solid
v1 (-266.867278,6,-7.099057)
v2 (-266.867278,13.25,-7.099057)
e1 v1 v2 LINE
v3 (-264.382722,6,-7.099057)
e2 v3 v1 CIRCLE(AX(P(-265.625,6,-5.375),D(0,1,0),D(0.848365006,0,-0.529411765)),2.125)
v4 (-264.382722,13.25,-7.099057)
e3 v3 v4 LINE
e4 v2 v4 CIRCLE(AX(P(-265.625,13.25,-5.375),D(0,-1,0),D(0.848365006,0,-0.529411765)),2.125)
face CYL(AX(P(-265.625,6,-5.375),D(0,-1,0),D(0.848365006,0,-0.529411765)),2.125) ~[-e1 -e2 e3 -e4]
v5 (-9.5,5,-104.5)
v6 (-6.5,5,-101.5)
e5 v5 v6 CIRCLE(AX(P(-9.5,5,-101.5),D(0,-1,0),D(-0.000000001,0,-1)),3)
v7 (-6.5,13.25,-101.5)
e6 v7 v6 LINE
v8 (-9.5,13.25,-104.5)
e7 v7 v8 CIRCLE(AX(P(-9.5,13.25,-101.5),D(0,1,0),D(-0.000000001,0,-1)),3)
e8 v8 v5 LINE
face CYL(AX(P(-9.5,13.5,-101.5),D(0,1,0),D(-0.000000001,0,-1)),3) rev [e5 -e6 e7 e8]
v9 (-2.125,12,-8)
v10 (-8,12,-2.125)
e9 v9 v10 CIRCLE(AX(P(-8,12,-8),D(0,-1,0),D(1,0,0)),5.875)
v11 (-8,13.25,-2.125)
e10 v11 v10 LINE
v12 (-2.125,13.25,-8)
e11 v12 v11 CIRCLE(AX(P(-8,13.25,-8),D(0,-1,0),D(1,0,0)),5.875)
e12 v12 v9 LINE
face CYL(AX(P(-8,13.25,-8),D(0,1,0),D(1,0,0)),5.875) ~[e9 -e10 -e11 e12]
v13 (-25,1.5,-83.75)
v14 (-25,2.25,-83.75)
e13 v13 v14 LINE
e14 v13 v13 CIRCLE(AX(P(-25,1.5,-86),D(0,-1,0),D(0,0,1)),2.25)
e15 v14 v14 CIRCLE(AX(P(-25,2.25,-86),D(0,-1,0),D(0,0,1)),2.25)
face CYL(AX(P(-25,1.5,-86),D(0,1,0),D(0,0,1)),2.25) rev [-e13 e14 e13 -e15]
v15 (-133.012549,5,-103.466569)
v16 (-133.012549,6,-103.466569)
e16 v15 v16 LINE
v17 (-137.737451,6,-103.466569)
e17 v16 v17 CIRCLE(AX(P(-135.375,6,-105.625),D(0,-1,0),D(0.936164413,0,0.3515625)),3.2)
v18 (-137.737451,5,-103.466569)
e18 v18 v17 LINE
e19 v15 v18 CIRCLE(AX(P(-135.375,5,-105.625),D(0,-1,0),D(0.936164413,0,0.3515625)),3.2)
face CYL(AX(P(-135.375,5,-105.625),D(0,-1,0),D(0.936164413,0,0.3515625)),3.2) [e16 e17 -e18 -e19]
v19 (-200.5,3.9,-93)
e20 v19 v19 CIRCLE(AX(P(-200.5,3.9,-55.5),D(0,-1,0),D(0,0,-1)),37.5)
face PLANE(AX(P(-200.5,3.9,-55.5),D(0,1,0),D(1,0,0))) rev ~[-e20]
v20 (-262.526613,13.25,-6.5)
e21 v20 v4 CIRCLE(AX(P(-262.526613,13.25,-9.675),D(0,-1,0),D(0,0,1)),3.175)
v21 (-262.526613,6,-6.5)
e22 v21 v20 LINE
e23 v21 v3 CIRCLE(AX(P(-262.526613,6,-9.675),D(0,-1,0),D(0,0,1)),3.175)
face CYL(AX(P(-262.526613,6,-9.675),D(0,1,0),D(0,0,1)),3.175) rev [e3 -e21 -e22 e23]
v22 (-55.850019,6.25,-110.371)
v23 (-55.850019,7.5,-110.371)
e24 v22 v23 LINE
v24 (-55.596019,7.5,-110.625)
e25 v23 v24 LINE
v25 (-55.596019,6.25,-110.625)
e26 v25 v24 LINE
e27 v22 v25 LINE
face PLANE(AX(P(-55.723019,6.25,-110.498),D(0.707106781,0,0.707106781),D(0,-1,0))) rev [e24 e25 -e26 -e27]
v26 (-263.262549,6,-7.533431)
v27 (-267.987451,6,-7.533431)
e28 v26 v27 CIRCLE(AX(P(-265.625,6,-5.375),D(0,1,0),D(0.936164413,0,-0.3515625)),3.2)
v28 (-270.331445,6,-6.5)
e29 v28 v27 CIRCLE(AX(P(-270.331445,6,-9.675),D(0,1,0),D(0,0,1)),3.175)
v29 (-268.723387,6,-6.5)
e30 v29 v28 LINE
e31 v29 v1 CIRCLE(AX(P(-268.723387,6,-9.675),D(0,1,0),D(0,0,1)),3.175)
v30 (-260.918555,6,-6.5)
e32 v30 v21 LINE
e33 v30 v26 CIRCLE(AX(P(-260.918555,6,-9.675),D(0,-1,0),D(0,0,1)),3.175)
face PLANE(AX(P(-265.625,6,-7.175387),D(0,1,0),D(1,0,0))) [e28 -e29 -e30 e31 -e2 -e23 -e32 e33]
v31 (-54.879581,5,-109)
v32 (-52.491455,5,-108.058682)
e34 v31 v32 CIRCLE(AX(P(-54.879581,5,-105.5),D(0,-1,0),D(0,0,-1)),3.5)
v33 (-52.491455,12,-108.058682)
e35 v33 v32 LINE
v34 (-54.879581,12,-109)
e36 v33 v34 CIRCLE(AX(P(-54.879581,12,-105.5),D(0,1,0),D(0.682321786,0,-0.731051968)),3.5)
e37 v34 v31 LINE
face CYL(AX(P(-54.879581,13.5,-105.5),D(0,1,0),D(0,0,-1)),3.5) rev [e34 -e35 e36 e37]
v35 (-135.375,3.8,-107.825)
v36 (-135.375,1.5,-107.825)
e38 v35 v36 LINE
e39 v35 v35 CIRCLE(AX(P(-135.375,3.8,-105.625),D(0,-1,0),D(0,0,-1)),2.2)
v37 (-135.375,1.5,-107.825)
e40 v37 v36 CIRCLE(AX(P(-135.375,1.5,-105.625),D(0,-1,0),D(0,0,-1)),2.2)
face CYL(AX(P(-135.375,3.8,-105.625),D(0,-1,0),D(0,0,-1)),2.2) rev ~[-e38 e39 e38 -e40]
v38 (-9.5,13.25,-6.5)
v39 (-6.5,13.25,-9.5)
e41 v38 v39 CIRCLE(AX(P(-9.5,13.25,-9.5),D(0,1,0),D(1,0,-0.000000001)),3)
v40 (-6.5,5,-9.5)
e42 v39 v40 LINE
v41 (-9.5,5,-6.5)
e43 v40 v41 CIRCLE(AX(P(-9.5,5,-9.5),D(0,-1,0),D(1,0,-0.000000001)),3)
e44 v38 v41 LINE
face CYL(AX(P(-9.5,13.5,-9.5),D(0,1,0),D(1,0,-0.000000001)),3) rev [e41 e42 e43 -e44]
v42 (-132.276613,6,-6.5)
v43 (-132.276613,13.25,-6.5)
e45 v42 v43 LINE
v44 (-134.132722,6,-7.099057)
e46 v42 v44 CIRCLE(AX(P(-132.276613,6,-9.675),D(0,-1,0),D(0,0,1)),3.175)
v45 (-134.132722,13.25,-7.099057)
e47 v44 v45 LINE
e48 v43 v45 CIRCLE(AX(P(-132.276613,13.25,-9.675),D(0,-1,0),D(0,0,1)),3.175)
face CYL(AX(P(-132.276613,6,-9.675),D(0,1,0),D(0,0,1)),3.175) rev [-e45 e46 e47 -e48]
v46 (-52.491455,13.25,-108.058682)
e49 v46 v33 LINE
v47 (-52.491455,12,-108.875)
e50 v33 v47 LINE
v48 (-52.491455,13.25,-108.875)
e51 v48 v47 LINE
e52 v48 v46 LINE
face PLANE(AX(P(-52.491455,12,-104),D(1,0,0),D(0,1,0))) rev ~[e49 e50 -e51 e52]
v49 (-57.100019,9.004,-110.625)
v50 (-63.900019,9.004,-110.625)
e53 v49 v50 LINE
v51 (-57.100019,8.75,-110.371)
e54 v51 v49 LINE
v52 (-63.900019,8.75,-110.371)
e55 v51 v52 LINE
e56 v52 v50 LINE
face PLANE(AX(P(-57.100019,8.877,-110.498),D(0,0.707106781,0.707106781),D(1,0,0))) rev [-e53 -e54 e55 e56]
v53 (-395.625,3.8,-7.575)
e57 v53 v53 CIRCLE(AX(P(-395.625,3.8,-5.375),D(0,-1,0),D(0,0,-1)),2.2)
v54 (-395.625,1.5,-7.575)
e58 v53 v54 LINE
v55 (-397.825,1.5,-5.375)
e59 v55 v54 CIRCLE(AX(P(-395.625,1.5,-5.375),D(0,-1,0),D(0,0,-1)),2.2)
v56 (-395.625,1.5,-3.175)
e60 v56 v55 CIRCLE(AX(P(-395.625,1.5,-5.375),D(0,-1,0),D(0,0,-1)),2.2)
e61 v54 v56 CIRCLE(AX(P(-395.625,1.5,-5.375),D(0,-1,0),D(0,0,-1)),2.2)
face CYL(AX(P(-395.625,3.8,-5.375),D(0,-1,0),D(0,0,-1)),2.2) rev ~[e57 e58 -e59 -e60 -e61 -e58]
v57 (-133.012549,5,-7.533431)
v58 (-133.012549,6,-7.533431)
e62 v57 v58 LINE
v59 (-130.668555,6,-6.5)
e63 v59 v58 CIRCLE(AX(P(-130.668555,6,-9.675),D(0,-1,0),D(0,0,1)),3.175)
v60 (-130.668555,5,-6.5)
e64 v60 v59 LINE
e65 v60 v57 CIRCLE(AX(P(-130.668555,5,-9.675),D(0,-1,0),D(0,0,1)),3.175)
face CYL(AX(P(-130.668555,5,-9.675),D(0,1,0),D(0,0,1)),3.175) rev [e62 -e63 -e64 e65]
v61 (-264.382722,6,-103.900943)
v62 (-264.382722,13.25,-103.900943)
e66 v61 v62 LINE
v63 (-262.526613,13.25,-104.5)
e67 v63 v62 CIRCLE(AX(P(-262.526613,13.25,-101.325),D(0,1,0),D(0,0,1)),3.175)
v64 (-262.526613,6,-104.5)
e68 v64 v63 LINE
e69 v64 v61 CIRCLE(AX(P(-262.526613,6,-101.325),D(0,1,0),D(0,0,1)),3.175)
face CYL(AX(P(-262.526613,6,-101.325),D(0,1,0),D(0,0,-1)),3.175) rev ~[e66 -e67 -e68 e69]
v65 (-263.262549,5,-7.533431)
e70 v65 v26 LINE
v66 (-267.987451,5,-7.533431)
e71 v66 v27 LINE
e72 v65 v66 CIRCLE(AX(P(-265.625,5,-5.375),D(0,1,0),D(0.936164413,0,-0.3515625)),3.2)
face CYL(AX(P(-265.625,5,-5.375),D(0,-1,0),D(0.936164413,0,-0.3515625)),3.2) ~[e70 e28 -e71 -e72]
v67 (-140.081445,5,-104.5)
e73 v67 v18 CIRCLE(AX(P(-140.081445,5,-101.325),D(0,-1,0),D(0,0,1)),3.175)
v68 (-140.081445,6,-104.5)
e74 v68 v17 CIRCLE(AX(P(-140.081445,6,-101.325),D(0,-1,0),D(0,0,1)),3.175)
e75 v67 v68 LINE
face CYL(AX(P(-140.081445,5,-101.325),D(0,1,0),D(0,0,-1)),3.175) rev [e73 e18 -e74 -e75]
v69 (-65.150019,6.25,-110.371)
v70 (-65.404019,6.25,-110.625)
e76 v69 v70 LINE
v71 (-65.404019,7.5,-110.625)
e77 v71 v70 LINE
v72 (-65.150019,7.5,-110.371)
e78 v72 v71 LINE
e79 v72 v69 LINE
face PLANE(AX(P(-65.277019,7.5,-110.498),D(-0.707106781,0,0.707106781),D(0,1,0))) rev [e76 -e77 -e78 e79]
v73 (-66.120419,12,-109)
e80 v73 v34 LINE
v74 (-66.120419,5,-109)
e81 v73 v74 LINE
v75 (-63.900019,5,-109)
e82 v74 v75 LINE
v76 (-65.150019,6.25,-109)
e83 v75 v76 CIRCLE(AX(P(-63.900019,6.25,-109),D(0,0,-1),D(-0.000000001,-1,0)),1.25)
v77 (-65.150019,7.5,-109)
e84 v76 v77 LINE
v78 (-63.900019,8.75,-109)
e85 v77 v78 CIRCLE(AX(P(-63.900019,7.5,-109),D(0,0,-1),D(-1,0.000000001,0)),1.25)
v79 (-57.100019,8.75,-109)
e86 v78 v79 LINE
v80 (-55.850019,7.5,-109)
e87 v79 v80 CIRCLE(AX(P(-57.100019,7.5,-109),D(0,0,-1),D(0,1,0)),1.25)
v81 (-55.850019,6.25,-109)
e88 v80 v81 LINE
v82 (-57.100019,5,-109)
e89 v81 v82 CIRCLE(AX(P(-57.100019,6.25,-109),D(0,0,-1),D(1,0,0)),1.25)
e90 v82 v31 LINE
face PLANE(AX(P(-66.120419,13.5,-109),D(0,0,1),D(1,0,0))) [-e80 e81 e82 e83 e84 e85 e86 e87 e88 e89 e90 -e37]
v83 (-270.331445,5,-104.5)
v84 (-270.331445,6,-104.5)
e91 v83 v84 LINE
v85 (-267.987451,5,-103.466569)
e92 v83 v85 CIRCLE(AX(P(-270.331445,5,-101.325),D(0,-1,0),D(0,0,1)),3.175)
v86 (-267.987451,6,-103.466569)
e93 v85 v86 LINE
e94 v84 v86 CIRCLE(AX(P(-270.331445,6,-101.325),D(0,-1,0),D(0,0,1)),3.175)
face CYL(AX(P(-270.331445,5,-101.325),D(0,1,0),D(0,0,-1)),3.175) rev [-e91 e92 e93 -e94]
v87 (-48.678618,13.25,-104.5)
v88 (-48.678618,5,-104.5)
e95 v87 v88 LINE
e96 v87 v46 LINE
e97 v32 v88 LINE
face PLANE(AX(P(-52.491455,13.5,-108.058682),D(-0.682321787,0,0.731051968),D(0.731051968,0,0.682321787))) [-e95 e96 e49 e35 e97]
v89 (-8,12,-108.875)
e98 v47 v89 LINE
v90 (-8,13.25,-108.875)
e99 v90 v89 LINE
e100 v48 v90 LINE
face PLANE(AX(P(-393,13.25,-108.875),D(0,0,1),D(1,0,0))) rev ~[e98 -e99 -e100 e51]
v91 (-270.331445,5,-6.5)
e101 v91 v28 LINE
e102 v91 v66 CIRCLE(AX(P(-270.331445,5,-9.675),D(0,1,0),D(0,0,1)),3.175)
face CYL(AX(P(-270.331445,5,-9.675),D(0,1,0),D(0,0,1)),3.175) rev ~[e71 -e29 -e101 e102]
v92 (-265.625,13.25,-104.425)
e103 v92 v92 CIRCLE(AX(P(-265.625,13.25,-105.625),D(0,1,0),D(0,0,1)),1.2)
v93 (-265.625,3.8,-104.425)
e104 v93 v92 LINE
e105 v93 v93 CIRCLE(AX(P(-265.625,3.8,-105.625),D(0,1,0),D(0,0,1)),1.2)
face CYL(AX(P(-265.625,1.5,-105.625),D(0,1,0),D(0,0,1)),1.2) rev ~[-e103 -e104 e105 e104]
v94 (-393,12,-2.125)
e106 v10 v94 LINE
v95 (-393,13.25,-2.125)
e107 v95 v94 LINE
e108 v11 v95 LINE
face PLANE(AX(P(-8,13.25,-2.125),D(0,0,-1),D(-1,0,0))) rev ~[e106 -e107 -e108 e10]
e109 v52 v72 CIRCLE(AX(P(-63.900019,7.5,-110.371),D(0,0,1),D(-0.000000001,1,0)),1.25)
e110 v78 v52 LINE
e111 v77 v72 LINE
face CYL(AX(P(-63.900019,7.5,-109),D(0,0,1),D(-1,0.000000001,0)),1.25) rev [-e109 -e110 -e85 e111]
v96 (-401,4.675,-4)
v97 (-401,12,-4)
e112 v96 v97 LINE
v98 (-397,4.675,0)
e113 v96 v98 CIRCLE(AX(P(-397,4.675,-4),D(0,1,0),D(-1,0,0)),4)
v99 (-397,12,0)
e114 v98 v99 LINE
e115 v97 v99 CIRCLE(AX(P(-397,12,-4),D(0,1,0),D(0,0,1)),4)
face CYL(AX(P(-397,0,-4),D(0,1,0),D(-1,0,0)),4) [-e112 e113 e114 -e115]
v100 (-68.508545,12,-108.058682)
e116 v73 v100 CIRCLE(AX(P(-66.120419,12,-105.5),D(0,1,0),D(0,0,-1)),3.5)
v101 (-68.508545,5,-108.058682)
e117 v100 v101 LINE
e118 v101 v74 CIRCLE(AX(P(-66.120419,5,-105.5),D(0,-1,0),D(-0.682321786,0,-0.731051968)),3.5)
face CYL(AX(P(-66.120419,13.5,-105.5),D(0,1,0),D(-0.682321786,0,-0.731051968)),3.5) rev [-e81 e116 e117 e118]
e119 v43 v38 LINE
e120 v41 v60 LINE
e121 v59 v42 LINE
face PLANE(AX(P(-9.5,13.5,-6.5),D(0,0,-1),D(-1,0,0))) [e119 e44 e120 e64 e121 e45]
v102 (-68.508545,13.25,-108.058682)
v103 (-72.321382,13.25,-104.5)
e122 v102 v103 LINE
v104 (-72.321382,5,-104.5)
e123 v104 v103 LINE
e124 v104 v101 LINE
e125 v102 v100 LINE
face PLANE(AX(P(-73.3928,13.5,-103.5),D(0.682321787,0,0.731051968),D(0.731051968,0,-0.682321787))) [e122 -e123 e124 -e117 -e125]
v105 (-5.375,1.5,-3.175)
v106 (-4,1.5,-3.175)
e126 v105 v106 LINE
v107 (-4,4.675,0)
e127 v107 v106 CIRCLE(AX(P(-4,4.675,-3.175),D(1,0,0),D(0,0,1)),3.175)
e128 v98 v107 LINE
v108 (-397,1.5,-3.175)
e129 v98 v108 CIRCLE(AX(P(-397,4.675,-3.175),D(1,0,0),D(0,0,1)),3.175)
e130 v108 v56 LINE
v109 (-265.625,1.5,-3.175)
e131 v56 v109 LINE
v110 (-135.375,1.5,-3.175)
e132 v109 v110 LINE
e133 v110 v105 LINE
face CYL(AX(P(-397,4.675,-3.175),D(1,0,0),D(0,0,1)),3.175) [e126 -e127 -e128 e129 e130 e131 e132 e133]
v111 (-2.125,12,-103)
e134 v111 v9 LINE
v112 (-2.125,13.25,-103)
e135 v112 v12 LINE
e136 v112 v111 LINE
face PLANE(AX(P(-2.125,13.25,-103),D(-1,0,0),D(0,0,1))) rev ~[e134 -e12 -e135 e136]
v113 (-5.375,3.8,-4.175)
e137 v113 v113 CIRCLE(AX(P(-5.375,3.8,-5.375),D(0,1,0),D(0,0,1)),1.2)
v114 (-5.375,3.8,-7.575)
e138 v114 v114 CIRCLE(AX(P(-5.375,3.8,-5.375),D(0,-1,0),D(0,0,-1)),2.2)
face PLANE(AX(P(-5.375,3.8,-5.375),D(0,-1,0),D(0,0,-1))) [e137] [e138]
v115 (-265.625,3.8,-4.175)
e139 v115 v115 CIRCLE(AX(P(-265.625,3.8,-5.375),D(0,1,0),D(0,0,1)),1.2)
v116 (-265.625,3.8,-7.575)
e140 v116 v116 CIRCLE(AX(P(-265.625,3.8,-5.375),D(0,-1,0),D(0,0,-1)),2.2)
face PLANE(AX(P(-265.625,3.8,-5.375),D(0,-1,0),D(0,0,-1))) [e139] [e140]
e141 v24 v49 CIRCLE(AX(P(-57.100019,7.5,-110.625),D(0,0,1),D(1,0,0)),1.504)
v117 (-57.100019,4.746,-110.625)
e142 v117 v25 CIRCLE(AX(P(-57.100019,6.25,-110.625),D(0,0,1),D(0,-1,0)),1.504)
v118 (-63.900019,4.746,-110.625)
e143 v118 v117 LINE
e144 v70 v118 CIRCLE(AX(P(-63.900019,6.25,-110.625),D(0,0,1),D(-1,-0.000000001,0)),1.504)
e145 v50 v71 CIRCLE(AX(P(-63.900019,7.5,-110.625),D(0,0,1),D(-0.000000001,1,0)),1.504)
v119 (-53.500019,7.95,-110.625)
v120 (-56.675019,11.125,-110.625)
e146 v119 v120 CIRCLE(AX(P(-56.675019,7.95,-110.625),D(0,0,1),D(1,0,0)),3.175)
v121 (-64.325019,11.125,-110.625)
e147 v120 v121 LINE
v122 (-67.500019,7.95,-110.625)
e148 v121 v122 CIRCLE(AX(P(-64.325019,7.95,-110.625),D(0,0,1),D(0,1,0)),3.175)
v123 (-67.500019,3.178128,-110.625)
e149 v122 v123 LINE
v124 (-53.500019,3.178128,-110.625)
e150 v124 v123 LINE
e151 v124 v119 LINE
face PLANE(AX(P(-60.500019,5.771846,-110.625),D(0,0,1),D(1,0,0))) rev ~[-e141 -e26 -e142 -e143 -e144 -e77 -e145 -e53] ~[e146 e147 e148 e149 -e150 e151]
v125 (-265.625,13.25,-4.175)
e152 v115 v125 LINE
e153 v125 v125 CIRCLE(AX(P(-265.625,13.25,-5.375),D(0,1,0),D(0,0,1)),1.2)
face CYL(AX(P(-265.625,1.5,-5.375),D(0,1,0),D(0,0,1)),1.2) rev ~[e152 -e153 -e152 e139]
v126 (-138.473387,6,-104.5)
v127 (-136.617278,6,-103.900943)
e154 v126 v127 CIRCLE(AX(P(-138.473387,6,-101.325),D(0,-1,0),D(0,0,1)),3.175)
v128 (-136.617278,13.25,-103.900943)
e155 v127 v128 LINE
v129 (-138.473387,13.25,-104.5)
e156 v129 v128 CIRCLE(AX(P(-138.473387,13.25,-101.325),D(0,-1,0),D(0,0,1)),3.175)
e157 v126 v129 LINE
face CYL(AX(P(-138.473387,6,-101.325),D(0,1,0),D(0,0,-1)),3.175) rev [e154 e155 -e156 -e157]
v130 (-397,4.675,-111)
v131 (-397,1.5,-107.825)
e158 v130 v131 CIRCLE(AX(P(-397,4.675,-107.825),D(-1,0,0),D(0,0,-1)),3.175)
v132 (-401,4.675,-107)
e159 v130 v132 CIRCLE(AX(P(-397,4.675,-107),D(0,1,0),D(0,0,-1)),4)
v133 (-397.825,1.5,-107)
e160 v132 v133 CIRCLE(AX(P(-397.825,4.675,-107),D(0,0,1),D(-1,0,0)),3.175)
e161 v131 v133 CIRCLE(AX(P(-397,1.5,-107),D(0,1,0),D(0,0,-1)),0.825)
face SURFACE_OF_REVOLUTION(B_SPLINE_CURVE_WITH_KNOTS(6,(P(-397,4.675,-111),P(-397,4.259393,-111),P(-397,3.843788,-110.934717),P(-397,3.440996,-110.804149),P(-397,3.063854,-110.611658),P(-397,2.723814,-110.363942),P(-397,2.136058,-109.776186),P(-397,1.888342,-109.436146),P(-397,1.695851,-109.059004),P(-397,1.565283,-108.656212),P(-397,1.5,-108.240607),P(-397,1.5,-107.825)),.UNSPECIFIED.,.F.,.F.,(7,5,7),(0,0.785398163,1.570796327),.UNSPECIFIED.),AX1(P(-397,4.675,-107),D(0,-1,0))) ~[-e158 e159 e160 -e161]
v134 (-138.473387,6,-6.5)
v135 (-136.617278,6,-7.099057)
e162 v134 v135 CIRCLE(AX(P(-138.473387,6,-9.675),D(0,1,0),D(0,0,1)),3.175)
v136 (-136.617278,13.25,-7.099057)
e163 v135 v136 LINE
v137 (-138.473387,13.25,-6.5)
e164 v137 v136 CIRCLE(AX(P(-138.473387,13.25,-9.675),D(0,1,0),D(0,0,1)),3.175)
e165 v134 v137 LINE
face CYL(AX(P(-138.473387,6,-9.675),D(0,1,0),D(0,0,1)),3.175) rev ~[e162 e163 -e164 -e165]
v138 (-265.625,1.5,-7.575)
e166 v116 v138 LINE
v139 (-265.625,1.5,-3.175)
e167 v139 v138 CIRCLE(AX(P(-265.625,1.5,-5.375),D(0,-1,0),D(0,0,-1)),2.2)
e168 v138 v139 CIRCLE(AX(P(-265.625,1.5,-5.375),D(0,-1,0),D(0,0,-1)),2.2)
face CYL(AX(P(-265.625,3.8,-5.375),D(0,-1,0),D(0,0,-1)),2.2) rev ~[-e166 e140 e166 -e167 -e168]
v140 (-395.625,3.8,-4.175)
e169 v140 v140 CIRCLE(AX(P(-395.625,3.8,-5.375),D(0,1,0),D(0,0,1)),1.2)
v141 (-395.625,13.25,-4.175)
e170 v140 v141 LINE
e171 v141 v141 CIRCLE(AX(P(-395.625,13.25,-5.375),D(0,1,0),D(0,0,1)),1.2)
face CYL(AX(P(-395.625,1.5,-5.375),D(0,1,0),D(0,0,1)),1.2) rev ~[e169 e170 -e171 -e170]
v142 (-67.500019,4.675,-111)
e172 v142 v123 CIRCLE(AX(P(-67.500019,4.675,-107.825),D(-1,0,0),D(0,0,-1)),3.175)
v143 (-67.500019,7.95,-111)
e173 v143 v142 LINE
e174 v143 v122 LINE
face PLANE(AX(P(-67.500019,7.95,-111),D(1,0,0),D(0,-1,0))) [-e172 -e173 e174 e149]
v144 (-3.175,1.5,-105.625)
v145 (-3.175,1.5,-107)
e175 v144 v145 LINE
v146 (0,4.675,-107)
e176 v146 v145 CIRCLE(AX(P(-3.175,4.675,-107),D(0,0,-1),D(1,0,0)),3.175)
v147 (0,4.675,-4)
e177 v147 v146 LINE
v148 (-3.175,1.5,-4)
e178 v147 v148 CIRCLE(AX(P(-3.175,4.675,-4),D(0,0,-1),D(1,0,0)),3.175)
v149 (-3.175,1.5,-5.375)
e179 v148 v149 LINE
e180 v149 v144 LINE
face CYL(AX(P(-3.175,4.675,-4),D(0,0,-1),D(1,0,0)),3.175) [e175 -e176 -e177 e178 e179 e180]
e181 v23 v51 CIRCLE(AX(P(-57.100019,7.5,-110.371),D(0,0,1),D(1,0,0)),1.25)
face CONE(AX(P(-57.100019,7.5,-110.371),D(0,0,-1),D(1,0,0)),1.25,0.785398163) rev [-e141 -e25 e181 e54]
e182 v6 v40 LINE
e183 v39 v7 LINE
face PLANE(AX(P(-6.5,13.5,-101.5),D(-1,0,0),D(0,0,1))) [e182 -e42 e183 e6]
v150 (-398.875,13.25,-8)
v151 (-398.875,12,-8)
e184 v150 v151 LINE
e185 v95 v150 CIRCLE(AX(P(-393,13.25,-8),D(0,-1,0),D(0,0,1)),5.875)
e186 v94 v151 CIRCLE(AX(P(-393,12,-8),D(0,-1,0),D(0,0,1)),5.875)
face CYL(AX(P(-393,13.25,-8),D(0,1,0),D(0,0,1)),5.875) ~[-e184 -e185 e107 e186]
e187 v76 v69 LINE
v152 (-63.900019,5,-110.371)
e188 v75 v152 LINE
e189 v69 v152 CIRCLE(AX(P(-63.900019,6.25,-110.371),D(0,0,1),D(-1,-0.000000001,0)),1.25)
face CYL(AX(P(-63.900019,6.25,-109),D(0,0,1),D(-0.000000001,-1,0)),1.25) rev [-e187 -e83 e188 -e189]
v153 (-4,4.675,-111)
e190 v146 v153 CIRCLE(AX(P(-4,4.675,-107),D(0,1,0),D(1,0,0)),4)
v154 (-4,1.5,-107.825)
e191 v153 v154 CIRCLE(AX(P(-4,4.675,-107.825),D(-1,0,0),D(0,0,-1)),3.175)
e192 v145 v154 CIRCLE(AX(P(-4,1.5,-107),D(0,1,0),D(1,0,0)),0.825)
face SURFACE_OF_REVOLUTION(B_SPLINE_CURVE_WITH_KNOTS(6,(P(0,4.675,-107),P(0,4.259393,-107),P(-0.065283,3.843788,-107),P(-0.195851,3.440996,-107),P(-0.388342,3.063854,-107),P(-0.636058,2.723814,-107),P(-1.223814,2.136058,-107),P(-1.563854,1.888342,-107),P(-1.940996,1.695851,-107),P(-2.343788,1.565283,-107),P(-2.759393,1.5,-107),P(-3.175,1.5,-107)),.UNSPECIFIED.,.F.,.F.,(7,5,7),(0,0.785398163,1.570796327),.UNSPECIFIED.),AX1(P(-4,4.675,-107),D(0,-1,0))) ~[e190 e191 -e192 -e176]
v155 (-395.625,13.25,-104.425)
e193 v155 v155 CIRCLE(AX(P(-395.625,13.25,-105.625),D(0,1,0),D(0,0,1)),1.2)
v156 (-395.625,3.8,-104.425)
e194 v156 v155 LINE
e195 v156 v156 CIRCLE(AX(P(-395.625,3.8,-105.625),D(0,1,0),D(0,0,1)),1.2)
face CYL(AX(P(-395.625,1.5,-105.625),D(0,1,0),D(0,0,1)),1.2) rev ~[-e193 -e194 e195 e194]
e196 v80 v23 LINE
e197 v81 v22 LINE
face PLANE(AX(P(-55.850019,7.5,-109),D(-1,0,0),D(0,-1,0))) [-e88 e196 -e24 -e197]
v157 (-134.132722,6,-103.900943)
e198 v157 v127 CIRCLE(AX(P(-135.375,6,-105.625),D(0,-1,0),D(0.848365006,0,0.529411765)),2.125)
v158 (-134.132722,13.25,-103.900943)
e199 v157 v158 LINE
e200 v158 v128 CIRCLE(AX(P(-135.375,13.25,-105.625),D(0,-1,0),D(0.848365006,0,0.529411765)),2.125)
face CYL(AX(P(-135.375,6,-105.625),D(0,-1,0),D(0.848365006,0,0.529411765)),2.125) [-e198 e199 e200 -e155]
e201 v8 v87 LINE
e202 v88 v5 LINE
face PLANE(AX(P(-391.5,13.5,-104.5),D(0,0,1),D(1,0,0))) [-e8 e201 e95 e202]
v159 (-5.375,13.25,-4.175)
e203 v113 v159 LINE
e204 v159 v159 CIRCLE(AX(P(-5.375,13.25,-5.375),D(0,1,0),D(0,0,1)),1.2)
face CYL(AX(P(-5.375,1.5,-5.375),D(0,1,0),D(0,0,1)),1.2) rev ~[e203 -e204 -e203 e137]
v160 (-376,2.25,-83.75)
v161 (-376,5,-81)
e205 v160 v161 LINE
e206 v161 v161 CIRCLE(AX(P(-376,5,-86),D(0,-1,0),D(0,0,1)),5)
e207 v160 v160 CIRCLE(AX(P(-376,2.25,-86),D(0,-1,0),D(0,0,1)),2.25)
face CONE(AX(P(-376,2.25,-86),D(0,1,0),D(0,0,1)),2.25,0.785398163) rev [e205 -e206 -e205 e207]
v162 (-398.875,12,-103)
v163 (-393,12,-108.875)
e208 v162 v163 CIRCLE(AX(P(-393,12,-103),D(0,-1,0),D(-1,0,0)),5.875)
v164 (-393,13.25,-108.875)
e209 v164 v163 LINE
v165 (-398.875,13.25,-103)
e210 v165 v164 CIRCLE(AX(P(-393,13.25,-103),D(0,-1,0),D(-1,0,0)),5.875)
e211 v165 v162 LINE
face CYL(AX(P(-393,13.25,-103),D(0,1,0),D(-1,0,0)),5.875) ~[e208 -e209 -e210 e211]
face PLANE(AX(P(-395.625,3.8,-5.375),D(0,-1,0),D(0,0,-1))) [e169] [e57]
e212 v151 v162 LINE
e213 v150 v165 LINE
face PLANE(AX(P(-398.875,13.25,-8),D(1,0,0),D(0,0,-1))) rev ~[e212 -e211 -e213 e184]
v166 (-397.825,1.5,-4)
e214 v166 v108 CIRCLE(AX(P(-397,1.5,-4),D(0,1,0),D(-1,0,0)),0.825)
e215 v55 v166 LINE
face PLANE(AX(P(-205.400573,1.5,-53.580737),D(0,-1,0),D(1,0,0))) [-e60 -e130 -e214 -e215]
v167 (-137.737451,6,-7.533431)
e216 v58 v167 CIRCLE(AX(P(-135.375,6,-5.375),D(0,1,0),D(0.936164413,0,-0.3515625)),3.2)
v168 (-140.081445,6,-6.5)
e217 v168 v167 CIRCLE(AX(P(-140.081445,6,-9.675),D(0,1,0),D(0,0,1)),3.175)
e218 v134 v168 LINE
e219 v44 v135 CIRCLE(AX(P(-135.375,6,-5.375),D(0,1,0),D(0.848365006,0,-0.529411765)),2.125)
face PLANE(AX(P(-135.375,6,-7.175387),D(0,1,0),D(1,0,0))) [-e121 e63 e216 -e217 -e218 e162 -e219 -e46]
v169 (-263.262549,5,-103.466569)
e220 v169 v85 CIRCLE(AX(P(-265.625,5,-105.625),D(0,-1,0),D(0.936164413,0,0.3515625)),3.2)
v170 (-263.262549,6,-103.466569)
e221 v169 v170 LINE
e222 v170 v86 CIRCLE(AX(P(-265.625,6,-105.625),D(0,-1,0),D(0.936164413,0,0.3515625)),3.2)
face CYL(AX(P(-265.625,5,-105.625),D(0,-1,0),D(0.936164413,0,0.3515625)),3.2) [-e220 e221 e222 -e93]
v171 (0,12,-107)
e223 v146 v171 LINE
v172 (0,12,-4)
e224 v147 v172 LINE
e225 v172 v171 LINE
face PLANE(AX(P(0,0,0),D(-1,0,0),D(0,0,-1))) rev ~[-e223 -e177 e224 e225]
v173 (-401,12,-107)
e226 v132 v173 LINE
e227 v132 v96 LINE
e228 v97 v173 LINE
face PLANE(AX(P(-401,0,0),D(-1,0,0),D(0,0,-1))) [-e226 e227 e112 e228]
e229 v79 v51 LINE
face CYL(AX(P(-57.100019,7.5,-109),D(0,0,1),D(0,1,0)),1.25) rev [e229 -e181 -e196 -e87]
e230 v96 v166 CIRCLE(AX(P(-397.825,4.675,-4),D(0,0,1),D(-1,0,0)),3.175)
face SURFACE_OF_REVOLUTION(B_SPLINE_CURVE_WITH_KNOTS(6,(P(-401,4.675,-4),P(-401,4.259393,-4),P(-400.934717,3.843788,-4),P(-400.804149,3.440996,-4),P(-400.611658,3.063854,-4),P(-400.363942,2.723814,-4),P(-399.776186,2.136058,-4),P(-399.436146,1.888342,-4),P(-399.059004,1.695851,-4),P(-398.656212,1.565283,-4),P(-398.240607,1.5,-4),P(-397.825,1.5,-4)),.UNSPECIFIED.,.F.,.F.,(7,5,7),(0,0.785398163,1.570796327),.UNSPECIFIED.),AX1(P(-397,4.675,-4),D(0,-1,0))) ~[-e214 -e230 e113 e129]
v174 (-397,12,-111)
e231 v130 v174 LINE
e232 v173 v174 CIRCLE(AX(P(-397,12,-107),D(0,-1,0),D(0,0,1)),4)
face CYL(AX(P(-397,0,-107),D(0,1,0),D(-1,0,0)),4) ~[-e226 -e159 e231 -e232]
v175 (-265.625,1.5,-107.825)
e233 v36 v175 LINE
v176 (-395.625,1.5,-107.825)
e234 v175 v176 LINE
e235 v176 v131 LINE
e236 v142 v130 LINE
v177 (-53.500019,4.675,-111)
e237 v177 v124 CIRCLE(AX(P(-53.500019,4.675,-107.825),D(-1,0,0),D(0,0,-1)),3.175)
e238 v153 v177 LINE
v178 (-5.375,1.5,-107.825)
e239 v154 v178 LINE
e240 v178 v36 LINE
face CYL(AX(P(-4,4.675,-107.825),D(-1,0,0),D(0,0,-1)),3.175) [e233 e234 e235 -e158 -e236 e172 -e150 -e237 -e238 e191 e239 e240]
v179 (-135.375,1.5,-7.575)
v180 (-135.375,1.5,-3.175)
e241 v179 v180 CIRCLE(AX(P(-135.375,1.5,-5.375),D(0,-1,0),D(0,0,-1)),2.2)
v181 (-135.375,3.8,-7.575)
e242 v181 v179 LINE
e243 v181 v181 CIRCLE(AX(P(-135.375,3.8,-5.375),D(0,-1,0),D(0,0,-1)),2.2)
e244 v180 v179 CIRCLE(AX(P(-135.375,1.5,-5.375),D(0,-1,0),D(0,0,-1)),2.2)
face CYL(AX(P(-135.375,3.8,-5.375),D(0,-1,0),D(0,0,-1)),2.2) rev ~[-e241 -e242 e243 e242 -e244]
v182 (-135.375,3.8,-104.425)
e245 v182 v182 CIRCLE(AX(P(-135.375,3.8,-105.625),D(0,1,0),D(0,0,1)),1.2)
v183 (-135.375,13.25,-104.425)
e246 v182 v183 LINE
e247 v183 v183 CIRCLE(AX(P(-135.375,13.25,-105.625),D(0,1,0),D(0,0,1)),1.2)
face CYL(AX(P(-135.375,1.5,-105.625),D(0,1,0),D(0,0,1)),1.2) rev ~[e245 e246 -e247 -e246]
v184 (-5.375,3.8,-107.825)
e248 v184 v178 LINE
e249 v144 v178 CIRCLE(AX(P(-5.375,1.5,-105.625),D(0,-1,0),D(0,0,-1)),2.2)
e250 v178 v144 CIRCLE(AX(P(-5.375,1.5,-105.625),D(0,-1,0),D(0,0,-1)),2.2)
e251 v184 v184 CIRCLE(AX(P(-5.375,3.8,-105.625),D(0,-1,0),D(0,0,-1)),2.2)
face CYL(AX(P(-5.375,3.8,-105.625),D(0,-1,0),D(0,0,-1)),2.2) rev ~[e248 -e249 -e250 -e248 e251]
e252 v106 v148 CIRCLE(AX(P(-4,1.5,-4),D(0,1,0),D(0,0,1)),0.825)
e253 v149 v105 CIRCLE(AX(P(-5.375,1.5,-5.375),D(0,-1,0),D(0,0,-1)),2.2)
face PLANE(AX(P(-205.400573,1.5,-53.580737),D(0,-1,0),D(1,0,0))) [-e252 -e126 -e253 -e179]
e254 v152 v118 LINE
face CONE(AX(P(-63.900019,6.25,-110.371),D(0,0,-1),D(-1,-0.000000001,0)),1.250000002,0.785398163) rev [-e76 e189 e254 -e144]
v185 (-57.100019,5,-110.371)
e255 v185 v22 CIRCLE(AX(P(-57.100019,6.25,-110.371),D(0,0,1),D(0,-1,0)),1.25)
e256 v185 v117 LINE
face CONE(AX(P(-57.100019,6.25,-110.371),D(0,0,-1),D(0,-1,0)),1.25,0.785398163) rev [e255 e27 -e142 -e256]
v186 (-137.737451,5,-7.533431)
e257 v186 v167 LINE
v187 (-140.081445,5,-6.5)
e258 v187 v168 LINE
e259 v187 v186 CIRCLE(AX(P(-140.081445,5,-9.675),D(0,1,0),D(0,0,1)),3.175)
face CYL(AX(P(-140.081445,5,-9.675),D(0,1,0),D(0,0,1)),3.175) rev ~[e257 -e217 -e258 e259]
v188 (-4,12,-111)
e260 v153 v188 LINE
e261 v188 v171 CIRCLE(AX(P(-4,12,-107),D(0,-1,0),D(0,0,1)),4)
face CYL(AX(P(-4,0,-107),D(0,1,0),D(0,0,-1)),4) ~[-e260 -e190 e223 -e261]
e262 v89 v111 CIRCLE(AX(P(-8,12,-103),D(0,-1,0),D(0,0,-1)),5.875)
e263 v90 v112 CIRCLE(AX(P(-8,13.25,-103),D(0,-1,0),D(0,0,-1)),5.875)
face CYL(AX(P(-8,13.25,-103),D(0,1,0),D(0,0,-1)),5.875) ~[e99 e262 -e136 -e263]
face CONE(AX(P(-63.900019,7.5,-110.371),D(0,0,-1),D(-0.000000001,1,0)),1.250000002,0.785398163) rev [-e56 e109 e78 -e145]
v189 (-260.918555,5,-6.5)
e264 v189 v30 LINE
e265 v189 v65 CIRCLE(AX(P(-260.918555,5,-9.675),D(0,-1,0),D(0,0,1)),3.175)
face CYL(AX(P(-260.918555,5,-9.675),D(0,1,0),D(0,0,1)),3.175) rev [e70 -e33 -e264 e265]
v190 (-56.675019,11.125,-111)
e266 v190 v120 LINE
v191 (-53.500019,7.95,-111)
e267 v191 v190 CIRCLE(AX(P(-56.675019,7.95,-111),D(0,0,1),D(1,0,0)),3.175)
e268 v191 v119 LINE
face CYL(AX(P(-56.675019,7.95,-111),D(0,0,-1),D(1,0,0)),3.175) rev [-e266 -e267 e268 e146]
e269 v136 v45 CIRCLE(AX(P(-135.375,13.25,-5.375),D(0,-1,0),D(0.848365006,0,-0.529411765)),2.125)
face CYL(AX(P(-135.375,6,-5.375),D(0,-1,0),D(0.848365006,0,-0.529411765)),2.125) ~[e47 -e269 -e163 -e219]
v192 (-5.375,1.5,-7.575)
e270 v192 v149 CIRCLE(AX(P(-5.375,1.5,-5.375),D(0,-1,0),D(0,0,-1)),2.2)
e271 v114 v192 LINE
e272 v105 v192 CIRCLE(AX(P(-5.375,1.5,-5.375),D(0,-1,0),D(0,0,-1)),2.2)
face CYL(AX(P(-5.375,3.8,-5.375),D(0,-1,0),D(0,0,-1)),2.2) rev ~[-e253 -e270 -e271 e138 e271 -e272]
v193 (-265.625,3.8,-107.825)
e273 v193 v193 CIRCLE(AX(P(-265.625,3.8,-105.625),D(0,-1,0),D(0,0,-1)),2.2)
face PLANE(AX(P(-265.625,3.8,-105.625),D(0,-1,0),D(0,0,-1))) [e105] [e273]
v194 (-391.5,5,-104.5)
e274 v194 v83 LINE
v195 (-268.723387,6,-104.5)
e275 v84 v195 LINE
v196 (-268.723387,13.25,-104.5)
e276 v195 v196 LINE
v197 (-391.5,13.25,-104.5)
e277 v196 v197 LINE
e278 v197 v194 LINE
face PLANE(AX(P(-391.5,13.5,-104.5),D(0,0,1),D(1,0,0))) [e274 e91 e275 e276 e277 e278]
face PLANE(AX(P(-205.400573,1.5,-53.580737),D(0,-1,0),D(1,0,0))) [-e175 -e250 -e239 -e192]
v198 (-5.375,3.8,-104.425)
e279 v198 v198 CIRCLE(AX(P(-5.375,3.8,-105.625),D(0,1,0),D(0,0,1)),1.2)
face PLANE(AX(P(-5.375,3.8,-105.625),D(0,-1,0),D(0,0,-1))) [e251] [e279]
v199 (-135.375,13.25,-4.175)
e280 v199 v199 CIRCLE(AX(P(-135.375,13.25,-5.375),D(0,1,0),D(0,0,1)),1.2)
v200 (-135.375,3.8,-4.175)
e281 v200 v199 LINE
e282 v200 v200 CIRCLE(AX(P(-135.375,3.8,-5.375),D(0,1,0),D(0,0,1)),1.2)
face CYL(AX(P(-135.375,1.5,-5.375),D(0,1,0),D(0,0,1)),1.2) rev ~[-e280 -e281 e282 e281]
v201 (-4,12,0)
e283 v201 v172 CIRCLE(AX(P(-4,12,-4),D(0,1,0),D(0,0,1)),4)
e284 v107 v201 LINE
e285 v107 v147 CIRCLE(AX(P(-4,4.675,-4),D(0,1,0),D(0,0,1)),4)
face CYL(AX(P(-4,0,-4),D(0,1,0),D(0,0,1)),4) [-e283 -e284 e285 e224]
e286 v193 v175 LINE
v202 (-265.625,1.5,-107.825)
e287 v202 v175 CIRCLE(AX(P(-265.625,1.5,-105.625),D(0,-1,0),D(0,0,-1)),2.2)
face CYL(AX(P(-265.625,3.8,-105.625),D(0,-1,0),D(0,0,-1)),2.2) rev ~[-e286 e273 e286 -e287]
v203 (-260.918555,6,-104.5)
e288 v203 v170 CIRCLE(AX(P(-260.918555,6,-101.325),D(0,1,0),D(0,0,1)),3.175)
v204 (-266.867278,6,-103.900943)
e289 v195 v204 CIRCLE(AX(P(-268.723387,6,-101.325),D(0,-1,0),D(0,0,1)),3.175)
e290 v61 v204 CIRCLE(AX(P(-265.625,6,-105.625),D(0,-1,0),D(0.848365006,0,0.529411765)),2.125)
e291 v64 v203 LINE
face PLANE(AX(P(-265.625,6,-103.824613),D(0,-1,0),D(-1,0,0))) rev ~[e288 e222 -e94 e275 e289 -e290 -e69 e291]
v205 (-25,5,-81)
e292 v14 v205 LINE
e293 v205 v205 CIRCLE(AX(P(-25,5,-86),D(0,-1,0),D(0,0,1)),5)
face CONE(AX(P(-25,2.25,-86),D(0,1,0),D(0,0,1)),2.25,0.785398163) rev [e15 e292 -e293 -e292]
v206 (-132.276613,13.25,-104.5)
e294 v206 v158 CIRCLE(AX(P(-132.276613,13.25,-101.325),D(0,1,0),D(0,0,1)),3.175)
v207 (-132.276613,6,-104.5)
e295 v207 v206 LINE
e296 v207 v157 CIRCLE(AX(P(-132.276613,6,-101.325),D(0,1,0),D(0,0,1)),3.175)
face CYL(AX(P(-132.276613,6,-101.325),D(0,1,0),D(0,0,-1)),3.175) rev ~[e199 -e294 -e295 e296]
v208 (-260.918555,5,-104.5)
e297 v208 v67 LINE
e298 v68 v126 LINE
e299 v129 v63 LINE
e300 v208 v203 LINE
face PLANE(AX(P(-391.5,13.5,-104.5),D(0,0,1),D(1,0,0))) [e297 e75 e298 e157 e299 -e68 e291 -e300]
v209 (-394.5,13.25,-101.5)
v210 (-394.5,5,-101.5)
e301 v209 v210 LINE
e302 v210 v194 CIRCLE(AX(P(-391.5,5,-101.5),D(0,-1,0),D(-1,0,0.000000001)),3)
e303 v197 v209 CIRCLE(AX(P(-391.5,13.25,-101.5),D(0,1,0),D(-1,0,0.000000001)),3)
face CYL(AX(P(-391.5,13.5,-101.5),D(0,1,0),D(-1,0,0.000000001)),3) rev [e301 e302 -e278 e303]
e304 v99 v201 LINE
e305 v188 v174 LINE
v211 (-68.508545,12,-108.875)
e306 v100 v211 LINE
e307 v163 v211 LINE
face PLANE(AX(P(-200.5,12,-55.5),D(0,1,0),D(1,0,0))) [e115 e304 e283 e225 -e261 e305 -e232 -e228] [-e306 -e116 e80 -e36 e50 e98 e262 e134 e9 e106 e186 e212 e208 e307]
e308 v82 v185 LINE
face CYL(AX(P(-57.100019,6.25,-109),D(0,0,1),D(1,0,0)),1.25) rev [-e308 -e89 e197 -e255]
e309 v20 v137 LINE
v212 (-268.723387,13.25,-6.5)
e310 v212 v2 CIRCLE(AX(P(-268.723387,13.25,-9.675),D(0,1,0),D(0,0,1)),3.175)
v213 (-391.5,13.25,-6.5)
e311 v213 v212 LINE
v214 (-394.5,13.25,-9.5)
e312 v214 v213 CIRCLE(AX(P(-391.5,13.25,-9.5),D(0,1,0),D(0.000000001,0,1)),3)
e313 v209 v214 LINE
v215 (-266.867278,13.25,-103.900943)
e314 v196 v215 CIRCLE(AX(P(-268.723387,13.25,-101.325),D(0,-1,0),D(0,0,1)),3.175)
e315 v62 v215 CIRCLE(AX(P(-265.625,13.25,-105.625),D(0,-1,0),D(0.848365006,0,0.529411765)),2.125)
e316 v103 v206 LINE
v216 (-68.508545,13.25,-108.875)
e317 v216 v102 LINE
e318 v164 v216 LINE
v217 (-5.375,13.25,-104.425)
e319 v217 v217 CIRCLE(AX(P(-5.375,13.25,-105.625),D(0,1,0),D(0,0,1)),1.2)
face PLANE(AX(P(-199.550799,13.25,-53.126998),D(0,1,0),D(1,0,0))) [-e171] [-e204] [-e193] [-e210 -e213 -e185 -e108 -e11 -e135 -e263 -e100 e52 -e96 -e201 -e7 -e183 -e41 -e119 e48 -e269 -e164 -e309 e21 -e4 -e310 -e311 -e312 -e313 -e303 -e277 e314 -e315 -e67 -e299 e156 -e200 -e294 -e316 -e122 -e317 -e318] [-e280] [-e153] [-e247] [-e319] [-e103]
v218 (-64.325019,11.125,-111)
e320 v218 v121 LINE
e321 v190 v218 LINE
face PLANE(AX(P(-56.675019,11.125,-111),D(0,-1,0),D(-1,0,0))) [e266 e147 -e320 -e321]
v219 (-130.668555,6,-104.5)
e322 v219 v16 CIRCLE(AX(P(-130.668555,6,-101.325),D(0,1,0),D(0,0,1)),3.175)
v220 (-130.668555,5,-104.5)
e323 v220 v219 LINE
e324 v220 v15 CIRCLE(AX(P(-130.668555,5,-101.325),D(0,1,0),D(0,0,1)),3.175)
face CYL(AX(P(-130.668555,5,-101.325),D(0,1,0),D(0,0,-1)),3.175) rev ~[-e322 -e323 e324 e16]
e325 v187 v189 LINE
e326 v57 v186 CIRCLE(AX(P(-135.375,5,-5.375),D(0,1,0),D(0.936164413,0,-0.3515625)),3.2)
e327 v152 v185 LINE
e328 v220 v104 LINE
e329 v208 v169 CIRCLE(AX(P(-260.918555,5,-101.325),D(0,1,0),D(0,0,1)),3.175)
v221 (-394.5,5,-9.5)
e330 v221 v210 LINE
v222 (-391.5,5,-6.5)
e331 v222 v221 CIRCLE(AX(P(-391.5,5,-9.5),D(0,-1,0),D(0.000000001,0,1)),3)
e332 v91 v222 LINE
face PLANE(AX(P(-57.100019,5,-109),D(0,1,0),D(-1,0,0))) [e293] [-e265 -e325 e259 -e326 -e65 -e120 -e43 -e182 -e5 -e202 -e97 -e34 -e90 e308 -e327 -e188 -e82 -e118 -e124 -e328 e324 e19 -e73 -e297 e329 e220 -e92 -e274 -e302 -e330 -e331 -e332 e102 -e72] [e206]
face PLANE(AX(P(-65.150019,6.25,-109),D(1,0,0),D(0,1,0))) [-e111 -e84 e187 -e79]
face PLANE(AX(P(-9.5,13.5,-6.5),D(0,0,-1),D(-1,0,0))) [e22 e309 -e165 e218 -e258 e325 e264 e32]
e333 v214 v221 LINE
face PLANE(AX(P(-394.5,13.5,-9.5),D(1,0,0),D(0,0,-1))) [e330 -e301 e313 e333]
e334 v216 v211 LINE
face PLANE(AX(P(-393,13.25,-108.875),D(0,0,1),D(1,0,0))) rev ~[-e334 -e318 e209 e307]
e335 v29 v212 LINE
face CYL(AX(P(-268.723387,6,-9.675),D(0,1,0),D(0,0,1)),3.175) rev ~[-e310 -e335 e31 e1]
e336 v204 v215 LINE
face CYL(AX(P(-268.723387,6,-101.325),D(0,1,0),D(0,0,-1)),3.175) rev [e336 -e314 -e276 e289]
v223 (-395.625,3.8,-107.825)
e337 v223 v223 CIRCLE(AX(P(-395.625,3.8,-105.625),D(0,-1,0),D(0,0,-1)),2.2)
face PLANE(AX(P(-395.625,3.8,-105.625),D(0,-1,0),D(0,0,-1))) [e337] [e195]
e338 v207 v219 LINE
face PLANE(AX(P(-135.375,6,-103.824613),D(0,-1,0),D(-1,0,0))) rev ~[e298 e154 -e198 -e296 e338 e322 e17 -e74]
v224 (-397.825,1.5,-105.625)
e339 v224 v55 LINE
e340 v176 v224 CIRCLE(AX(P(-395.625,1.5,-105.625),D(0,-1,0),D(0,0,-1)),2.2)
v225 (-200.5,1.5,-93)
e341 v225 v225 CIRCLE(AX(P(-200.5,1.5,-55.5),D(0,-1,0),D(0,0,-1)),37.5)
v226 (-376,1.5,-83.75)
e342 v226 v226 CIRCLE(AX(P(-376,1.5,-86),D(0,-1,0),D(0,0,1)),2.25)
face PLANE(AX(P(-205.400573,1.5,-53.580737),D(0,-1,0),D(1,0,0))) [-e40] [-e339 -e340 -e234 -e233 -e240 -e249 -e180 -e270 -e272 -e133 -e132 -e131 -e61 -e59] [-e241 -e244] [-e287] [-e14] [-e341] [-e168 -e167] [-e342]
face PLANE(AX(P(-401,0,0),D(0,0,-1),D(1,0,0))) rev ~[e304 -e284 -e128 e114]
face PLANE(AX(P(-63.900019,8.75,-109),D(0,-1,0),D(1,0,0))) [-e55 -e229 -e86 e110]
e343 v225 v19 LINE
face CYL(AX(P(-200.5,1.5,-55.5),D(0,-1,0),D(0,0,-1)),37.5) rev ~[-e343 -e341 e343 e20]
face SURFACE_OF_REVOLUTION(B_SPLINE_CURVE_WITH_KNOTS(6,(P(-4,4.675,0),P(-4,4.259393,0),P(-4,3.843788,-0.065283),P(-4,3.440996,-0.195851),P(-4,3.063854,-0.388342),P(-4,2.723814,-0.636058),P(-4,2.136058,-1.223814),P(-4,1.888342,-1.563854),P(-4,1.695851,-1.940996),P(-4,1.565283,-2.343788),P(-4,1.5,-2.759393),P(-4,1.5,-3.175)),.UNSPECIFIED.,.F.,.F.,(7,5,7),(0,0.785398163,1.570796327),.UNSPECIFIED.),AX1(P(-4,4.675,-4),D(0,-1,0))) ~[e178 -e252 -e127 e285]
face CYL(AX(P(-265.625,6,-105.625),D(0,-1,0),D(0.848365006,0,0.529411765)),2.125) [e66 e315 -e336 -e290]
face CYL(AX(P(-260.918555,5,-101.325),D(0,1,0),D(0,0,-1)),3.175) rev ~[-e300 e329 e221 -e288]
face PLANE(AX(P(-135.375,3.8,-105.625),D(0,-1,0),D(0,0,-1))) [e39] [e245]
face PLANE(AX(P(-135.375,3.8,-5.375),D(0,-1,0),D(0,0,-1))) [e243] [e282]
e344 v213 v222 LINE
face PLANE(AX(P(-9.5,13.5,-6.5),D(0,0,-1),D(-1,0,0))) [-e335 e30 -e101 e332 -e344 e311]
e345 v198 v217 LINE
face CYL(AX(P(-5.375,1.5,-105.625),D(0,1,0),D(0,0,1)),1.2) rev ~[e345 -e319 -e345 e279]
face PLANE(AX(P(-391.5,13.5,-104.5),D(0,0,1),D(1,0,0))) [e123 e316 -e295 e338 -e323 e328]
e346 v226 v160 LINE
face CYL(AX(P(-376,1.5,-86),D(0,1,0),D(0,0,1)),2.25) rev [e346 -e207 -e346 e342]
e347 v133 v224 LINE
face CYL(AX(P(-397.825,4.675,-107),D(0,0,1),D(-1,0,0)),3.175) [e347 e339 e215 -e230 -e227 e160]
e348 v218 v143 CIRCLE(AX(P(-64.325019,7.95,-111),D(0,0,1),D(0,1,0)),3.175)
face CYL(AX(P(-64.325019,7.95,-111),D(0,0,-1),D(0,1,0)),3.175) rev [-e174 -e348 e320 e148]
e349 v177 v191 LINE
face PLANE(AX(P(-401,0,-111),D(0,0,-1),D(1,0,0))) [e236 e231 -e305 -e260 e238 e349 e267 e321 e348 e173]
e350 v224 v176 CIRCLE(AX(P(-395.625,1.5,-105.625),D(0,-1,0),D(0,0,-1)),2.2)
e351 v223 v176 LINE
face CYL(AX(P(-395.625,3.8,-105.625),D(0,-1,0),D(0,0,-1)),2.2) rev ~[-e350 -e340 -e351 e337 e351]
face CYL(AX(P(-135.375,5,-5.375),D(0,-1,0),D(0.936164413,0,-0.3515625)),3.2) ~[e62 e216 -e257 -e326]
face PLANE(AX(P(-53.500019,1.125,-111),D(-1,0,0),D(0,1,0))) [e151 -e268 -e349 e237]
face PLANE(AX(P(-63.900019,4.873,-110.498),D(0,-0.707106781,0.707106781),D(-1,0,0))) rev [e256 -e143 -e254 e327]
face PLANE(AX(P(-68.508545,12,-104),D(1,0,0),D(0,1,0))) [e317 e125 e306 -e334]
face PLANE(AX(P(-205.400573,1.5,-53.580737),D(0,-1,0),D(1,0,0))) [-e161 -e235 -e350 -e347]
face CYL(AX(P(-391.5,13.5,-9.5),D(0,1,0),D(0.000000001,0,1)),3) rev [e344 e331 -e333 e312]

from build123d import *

# Parameters (mm, degrees)
SKETCH1_W                                      = 401
SKETCH1_H                                      = 111
BOSS_EXTRUDE1_DEPTH                            = 13.5
SKETCH2_W                                      = 401
SKETCH2_H                                      = 111
SKETCH2_W_2                                    = 397
SKETCH2_H_2                                    = 107
CUT_EXTRUDE1_DEPTH                             = 1.5
FILLET1_R                                      = 6
FILLET2_R                                      = 4
CUT_EXTRUDE2_DEPTH                             = 8.5
SKETCH4_W                                      = 425.758885171
SKETCH4_H                                      = 132.096565748
CUT_EXTRUDE3_DEPTH                             = 1.5
CUT_EXTRUDE4_DEPTH                             = 8.5
CUT_EXTRUDE5_DEPTH                             = 8.5
FILLET3_R                                      = 3.175
CUT_EXTRUDE6_DEPTH                             = 0.375
CHAMFER1_SIZE                                  = 0.254
CUT_EXTRUDE7_DEPTH                             = 5
CUT_EXTRUDE7_DEPTH_BACK                        = 5
SKETCH8_W                                      = 16.017090682
SKETCH8_H                                      = 1.5
SKETCH9_R                                      = 37.5
CUT_EXTRUDE8_DEPTH                             = 10
BOSS_EXTRUDE4_DEPTH                            = 1
FILLET4_R                                      = 3.175
BOSS_EXTRUDE5_DEPTH                            = 7.5
CBORE_FOR_M2_SHCS2_D                           = 2.4
CBORE_FOR_M2_SHCS2_CBORE_D                     = 4.4
CBORE_FOR_M2_SHCS2_CBORE_DEPTH                 = 2.3
SKETCH33_W                                     = 427.456701586
SKETCH33_H                                     = 134.15369465
CUT_EXTRUDE9_DEPTH                             = 0.25
SKETCH37_R                                     = 45
BOSS_EXTRUDE6_DEPTH                            = 1.1
CSK_FOR_M4_FLAT_HEAD_MACHINE_SCREW1_AT_2_COUNT = 2
CSK_FOR_M4_FLAT_HEAD_MACHINE_SCREW1_AT_2_PITCH = 351
FILLET5_R                                      = 3.175
SKETCH40_W                                     = 472.271796357
SKETCH40_H                                     = 174.060638188
CUT_EXTRUDE10_DEPTH                            = 1.25


with BuildPart() as part:
    # Sketch1 → Boss-Extrude1 (new body)
    with BuildSketch(Plane(origin=(0, 0, 0), x_dir=(1, 0, 0), z_dir=(0, 1, 0))):
        with Locations((-200.5, 55.5)):
            Rectangle(SKETCH1_W, SKETCH1_H)
    extrude(amount=BOSS_EXTRUDE1_DEPTH)

    # Sketch2 → Cut-Extrude1 (cut)
    with BuildSketch(Plane(origin=(0, 13.5, 0), x_dir=(1, 0, 0), z_dir=(0, 1, 0))):
        with Locations((-200.5, 55.5)):
            Rectangle(SKETCH2_W, SKETCH2_H)
        with Locations((-200.5, 55.5)):
            Rectangle(SKETCH2_W_2, SKETCH2_H_2, mode=Mode.SUBTRACT)
    extrude(amount=-CUT_EXTRUDE1_DEPTH, mode=Mode.SUBTRACT)

    # Fillet1
    fillet1_edges = [part.edges().sort_by_distance(p)[0] for p in [
        (-2, 12.75, -2),
        (-399, 12.75, -2),
        (-399, 12.75, -109),
        (-2, 12.75, -109),
    ]]
    fillet(fillet1_edges, radius=FILLET1_R)

    # Fillet2
    fillet2_edges = [part.edges().sort_by_distance(p)[0] for p in [
        (0, 6, 0),
        (-401, 6, 0),
        (-401, 6, -111),
        (0, 6, -111),
    ]]
    fillet(fillet2_edges, radius=FILLET2_R)

    # Sketch3 → Cut-Extrude2 (cut)
    with BuildSketch(Plane(origin=(0, 13.5, 0), x_dir=(1, 0, 0), z_dir=(0, 1, 0))):
        with BuildLine():
            Line((-9.5, 6.5), (-391.5, 6.5))
            ThreePointArc((-391.5, 6.5), (-393.621320344, 7.378679656), (-394.5, 9.5))
            Line((-394.5, 9.5), (-394.5, 101.5))
            ThreePointArc((-394.5, 101.5), (-393.621320344, 103.621320344), (-391.5, 104.5))
            Line((-391.5, 104.5), (-9.5, 104.5))
            ThreePointArc((-9.5, 104.5), (-7.378679656, 103.621320344), (-6.5, 101.5))
            Line((-6.5, 101.5), (-6.5, 9.5))
            ThreePointArc((-6.5, 9.5), (-7.378679656, 7.378679656), (-9.5, 6.5))
        make_face()
    extrude(amount=-CUT_EXTRUDE2_DEPTH, mode=Mode.SUBTRACT)

    # Sketch4 → Cut-Extrude3 (cut)
    with BuildSketch(Plane.XZ):
        with Locations((-205.400573141, -53.58073678)):
            Rectangle(SKETCH4_W, SKETCH4_H)
    extrude(amount=-CUT_EXTRUDE3_DEPTH, mode=Mode.SUBTRACT)

    # Sketch5 → Cut-Extrude4 (cut)
    with BuildSketch(Plane(origin=(0, 13.5, 0), x_dir=(1, 0, 0), z_dir=(0, 1, 0))):
        with BuildLine():
            Line((-73.3928, 103.5), (-68.508545341, 108.058681888))
            ThreePointArc((-68.508545341, 108.058681888), (-67.403893551, 108.756177714), (-66.120419088, 109))
            Line((-66.120419088, 109), (-54.879580912, 109))
            ThreePointArc((-54.879580912, 109), (-53.596106449, 108.756177714), (-52.491454659, 108.058681888))
            Line((-52.491454659, 108.058681888), (-47.6072, 103.5))
            Line((-47.6072, 103.5), (-73.3928, 103.5))
        make_face()
    extrude(amount=-CUT_EXTRUDE4_DEPTH, mode=Mode.SUBTRACT)

    # Sketch6 → Cut-Extrude5 (cut)
    with BuildSketch(Plane.XY.offset(-109)):
        with BuildLine():
            Line((-63.900019088, 8.75), (-57.100019088, 8.75))
            ThreePointArc((-57.100019088, 8.75), (-56.216135611, 8.383883476), (-55.850019088, 7.5))
            Line((-55.850019088, 7.5), (-55.850019088, 6.25))
            ThreePointArc((-55.850019088, 6.25), (-56.216135611, 5.366116524), (-57.100019088, 5))
            Line((-57.100019088, 5), (-63.900019088, 5))
            ThreePointArc((-63.900019088, 5), (-64.783902564, 5.366116524), (-65.150019088, 6.25))
            Line((-65.150019088, 6.25), (-65.150019088, 7.5))
            ThreePointArc((-65.150019088, 7.5), (-64.783902564, 8.383883476), (-63.900019088, 8.75))
        make_face()
    extrude(amount=-CUT_EXTRUDE5_DEPTH, mode=Mode.SUBTRACT)

    # Fillet3
    fillet3_edges = [part.edges().sort_by_distance(p)[0] for p in [
        (-1.171572875, 1.5, -109.828427125),
        (-401, 1.5, -55.5),
        (-200.5, 1.5, -111),
        (0, 1.5, -55.5),
        (-200.5, 1.5, 0),
        (-399.828427125, 1.5, -1.171572875),
        (-1.171572875, 1.5, -1.171572875),
        (-399.828427125, 1.5, -109.828427125),
    ]]
    fillet(fillet3_edges, radius=FILLET3_R)

    # Sketch7 → Cut-Extrude6 (cut)
    with BuildSketch(Plane(origin=(0, 0, -111), x_dir=(-1, 0, 0), z_dir=(0, 0, -1))):
        with BuildLine():
            Line((56.675019088, 11.125), (64.325019088, 11.125))
            ThreePointArc((64.325019088, 11.125), (66.570083118, 10.19506403), (67.500019088, 7.95))
            Line((67.500019088, 7.95), (67.500019088, 1.125))
            Line((67.500019088, 1.125), (53.500019088, 1.125))
            Line((53.500019088, 1.125), (53.500019088, 7.95))
            ThreePointArc((53.500019088, 7.95), (54.429955058, 10.19506403), (56.675019088, 11.125))
        make_face()
    extrude(amount=-CUT_EXTRUDE6_DEPTH, mode=Mode.SUBTRACT)

    # Chamfer1
    chamfer1_edges = [part.edges().sort_by_distance(p)[0] for p in [
        (-56.216135611, 5.366116524, -110.625),
        (-55.850019088, 6.875, -110.625),
        (-56.216135611, 8.383883476, -110.625),
        (-60.500019088, 8.75, -110.625),
        (-64.783902564, 8.383883476, -110.625),
        (-65.150019088, 6.875, -110.625),
        (-64.783902564, 5.366116524, -110.625),
        (-60.500019088, 5, -110.625),
    ]]
    chamfer(chamfer1_edges, length=CHAMFER1_SIZE)

    # Sketch8 → Cut-Extrude7 (cut, two sides: drawn at the far end of the back side and taken through both)
    with BuildSketch(Plane(origin=(0, 0, -109), x_dir=(-1, 0, 0), z_dir=(0, 0, -1)).offset(-CUT_EXTRUDE7_DEPTH_BACK)):
        with Locations((60.5, 12.75)):
            Rectangle(SKETCH8_W, SKETCH8_H)
    extrude(amount=CUT_EXTRUDE7_DEPTH + CUT_EXTRUDE7_DEPTH_BACK, mode=Mode.SUBTRACT)

    # Sketch9 → Cut-Extrude8 (cut)
    with BuildSketch(Plane.XZ.offset(-1.5)):
        with Locations(Location((-200.5, -55.5, 0), (0, 0, 270))):
            Circle(SKETCH9_R)
    extrude(amount=-CUT_EXTRUDE8_DEPTH, mode=Mode.SUBTRACT)

    # Sketch25 → Boss-Extrude4 (add)
    with BuildSketch(Plane(origin=(0, 5, 0), x_dir=(1, 0, 0), z_dir=(0, 1, 0))):
        with BuildLine():
            Line((-138.370726122, 104.5), (-132.379273878, 104.5))
            ThreePointArc((-132.379273878, 104.5), (-135.375, 102.425), (-138.370726122, 104.5))
        make_face()
        with BuildLine():
            Line((-268.620726122, 104.5), (-262.629273878, 104.5))
            ThreePointArc((-262.629273878, 104.5), (-265.625, 102.425), (-268.620726122, 104.5))
        make_face()
        with BuildLine():
            Line((-138.370726122, 6.5), (-132.379273878, 6.5))
            ThreePointArc((-132.379273878, 6.5), (-135.375, 8.575), (-138.370726122, 6.5))
        make_face()
        with BuildLine():
            Line((-268.620726122, 6.5), (-262.629273878, 6.5))
            ThreePointArc((-262.629273878, 6.5), (-265.625, 8.575), (-268.620726122, 6.5))
        make_face()
    extrude(amount=BOSS_EXTRUDE4_DEPTH)

    # Fillet4
    fillet4_edges = [part.edges().sort_by_distance(p)[0] for p in [
        (-268.620726122, 5.5, -104.5),
        (-262.629273878, 5.5, -104.5),
        (-138.370726122, 5.5, -104.5),
        (-132.379273878, 5.5, -104.5),
        (-132.379273878, 5.5, -6.5),
        (-138.370726122, 5.5, -6.5),
        (-262.629273878, 5.5, -6.5),
        (-268.620726122, 5.5, -6.5),
    ]]
    fillet(fillet4_edges, radius=FILLET4_R)

    # Sketch27 → Boss-Extrude5 (add)
    with BuildSketch(Plane(origin=(0, 6, 0), x_dir=(1, 0, 0), z_dir=(0, 1, 0))):
        with BuildLine():
            Line((-267.427775638, 104.5), (-263.822224362, 104.5))
            ThreePointArc((-263.822224362, 104.5), (-265.625, 103.5), (-267.427775638, 104.5))
        make_face()
        with BuildLine():
            Line((-137.177775638, 104.5), (-133.572224362, 104.5))
            ThreePointArc((-133.572224362, 104.5), (-135.375, 103.5), (-137.177775638, 104.5))
        make_face()
        with BuildLine():
            Line((-137.177775638, 6.5), (-133.572224362, 6.5))
            ThreePointArc((-133.572224362, 6.5), (-135.375, 7.5), (-137.177775638, 6.5))
        make_face()
        with BuildLine():
            Line((-267.427775638, 6.5), (-263.822224362, 6.5))
            ThreePointArc((-263.822224362, 6.5), (-265.625, 7.5), (-267.427775638, 6.5))
        make_face()
    extrude(amount=BOSS_EXTRUDE5_DEPTH)

    # CBORE for M2 SHCS2 (through all)
    with Locations(Plane(origin=(-5.375, 1.5, -105.625), x_dir=(0, 0, -1), z_dir=(0, -1, 0))):
        with Locations((0, 0), (0, -130), (0, -260.25), (0, -390.25), (-100.25, -390.25), (-100.25, -260.25), (-100.25, -130), (-100.25, 0)):
            CounterBoreHole(CBORE_FOR_M2_SHCS2_D / 2, CBORE_FOR_M2_SHCS2_CBORE_D / 2, CBORE_FOR_M2_SHCS2_CBORE_DEPTH)

    # Sketch33 → Cut-Extrude9 (cut)
    with BuildSketch(Plane(origin=(0, 13.5, 0), x_dir=(1, 0, 0), z_dir=(0, 1, 0))):
        with Locations((-199.55079933, 53.126998326)):
            Rectangle(SKETCH33_W, SKETCH33_H)
    extrude(amount=-CUT_EXTRUDE9_DEPTH, mode=Mode.SUBTRACT)

    # Sketch37 → Boss-Extrude6 (add)
    with BuildSketch(Plane(origin=(0, 5, 0), x_dir=(1, 0, 0), z_dir=(0, 1, 0))):
        with Locations((-200.5, 55.5)):
            Circle(SKETCH37_R)
    extrude(amount=-BOSS_EXTRUDE6_DEPTH)

    # Sketch38 → CSK for M4 Flat Head Machine Screw1 (revolve, cut)
    with BuildSketch(Plane(origin=(-376, 5, -86), x_dir=(0, 0, 1), z_dir=(1, 0, 0))):
        Polygon((0, 0), (0, 3.5), (2.25, 3.5), (2.25, 2.75), (5, 0), align=None)
    csk_for_m4_flat_head_machine_screw1 = revolve(axis=Axis((-376, 11.35, -86), (0, -1, 0)), mode=Mode.SUBTRACT)

    # CSK for M4 Flat Head Machine Screw1 at 2: CSK for M4 Flat Head Machine Screw1 ×2
    with Locations(*[(i * CSK_FOR_M4_FLAT_HEAD_MACHINE_SCREW1_AT_2_PITCH, 0, 0) for i in range(1, CSK_FOR_M4_FLAT_HEAD_MACHINE_SCREW1_AT_2_COUNT)]):
        add(csk_for_m4_flat_head_machine_screw1, mode=Mode.SUBTRACT)

    # Fillet5
    fillet5_edges = [part.edges().sort_by_distance(p)[0] for p in [
        (-263.822224362, 9.625, -6.5),
        (-267.427775638, 9.625, -6.5),
        (-133.572224362, 9.625, -6.5),
        (-137.177775638, 9.625, -6.5),
        (-137.177775638, 9.625, -104.5),
        (-133.572224362, 9.625, -104.5),
        (-267.427775638, 9.625, -104.5),
        (-263.822224362, 9.625, -104.5),
    ]]
    fillet(fillet5_edges, radius=FILLET5_R)

    # Sketch40 → Cut-Extrude10 (cut)
    with BuildSketch(Plane(origin=(0, 13.25, 0), x_dir=(1, 0, 0), z_dir=(0, 1, 0))):
        with Locations((-179.677600421, 43.410464589)):
            Rectangle(SKETCH40_W, SKETCH40_H)
        with BuildLine():
            Line((-52.491454659, 108.875), (-8, 108.875))
            ThreePointArc((-8, 108.875), (-3.845747661, 107.154252339), (-2.125, 103))
            Line((-2.125, 103), (-2.125, 8))
            ThreePointArc((-2.125, 8), (-3.845747661, 3.845747661), (-8, 2.125))
            Line((-8, 2.125), (-393, 2.125))
            ThreePointArc((-393, 2.125), (-397.154252339, 3.845747661), (-398.875, 8))
            Line((-398.875, 8), (-398.875, 103))
            ThreePointArc((-398.875, 103), (-397.154252339, 107.154252339), (-393, 108.875))
            Line((-393, 108.875), (-52.491454659, 108.875))
        make_face(mode=Mode.SUBTRACT)
    extrude(amount=-CUT_EXTRUDE10_DEPTH, mode=Mode.SUBTRACT)


solid = part.part
